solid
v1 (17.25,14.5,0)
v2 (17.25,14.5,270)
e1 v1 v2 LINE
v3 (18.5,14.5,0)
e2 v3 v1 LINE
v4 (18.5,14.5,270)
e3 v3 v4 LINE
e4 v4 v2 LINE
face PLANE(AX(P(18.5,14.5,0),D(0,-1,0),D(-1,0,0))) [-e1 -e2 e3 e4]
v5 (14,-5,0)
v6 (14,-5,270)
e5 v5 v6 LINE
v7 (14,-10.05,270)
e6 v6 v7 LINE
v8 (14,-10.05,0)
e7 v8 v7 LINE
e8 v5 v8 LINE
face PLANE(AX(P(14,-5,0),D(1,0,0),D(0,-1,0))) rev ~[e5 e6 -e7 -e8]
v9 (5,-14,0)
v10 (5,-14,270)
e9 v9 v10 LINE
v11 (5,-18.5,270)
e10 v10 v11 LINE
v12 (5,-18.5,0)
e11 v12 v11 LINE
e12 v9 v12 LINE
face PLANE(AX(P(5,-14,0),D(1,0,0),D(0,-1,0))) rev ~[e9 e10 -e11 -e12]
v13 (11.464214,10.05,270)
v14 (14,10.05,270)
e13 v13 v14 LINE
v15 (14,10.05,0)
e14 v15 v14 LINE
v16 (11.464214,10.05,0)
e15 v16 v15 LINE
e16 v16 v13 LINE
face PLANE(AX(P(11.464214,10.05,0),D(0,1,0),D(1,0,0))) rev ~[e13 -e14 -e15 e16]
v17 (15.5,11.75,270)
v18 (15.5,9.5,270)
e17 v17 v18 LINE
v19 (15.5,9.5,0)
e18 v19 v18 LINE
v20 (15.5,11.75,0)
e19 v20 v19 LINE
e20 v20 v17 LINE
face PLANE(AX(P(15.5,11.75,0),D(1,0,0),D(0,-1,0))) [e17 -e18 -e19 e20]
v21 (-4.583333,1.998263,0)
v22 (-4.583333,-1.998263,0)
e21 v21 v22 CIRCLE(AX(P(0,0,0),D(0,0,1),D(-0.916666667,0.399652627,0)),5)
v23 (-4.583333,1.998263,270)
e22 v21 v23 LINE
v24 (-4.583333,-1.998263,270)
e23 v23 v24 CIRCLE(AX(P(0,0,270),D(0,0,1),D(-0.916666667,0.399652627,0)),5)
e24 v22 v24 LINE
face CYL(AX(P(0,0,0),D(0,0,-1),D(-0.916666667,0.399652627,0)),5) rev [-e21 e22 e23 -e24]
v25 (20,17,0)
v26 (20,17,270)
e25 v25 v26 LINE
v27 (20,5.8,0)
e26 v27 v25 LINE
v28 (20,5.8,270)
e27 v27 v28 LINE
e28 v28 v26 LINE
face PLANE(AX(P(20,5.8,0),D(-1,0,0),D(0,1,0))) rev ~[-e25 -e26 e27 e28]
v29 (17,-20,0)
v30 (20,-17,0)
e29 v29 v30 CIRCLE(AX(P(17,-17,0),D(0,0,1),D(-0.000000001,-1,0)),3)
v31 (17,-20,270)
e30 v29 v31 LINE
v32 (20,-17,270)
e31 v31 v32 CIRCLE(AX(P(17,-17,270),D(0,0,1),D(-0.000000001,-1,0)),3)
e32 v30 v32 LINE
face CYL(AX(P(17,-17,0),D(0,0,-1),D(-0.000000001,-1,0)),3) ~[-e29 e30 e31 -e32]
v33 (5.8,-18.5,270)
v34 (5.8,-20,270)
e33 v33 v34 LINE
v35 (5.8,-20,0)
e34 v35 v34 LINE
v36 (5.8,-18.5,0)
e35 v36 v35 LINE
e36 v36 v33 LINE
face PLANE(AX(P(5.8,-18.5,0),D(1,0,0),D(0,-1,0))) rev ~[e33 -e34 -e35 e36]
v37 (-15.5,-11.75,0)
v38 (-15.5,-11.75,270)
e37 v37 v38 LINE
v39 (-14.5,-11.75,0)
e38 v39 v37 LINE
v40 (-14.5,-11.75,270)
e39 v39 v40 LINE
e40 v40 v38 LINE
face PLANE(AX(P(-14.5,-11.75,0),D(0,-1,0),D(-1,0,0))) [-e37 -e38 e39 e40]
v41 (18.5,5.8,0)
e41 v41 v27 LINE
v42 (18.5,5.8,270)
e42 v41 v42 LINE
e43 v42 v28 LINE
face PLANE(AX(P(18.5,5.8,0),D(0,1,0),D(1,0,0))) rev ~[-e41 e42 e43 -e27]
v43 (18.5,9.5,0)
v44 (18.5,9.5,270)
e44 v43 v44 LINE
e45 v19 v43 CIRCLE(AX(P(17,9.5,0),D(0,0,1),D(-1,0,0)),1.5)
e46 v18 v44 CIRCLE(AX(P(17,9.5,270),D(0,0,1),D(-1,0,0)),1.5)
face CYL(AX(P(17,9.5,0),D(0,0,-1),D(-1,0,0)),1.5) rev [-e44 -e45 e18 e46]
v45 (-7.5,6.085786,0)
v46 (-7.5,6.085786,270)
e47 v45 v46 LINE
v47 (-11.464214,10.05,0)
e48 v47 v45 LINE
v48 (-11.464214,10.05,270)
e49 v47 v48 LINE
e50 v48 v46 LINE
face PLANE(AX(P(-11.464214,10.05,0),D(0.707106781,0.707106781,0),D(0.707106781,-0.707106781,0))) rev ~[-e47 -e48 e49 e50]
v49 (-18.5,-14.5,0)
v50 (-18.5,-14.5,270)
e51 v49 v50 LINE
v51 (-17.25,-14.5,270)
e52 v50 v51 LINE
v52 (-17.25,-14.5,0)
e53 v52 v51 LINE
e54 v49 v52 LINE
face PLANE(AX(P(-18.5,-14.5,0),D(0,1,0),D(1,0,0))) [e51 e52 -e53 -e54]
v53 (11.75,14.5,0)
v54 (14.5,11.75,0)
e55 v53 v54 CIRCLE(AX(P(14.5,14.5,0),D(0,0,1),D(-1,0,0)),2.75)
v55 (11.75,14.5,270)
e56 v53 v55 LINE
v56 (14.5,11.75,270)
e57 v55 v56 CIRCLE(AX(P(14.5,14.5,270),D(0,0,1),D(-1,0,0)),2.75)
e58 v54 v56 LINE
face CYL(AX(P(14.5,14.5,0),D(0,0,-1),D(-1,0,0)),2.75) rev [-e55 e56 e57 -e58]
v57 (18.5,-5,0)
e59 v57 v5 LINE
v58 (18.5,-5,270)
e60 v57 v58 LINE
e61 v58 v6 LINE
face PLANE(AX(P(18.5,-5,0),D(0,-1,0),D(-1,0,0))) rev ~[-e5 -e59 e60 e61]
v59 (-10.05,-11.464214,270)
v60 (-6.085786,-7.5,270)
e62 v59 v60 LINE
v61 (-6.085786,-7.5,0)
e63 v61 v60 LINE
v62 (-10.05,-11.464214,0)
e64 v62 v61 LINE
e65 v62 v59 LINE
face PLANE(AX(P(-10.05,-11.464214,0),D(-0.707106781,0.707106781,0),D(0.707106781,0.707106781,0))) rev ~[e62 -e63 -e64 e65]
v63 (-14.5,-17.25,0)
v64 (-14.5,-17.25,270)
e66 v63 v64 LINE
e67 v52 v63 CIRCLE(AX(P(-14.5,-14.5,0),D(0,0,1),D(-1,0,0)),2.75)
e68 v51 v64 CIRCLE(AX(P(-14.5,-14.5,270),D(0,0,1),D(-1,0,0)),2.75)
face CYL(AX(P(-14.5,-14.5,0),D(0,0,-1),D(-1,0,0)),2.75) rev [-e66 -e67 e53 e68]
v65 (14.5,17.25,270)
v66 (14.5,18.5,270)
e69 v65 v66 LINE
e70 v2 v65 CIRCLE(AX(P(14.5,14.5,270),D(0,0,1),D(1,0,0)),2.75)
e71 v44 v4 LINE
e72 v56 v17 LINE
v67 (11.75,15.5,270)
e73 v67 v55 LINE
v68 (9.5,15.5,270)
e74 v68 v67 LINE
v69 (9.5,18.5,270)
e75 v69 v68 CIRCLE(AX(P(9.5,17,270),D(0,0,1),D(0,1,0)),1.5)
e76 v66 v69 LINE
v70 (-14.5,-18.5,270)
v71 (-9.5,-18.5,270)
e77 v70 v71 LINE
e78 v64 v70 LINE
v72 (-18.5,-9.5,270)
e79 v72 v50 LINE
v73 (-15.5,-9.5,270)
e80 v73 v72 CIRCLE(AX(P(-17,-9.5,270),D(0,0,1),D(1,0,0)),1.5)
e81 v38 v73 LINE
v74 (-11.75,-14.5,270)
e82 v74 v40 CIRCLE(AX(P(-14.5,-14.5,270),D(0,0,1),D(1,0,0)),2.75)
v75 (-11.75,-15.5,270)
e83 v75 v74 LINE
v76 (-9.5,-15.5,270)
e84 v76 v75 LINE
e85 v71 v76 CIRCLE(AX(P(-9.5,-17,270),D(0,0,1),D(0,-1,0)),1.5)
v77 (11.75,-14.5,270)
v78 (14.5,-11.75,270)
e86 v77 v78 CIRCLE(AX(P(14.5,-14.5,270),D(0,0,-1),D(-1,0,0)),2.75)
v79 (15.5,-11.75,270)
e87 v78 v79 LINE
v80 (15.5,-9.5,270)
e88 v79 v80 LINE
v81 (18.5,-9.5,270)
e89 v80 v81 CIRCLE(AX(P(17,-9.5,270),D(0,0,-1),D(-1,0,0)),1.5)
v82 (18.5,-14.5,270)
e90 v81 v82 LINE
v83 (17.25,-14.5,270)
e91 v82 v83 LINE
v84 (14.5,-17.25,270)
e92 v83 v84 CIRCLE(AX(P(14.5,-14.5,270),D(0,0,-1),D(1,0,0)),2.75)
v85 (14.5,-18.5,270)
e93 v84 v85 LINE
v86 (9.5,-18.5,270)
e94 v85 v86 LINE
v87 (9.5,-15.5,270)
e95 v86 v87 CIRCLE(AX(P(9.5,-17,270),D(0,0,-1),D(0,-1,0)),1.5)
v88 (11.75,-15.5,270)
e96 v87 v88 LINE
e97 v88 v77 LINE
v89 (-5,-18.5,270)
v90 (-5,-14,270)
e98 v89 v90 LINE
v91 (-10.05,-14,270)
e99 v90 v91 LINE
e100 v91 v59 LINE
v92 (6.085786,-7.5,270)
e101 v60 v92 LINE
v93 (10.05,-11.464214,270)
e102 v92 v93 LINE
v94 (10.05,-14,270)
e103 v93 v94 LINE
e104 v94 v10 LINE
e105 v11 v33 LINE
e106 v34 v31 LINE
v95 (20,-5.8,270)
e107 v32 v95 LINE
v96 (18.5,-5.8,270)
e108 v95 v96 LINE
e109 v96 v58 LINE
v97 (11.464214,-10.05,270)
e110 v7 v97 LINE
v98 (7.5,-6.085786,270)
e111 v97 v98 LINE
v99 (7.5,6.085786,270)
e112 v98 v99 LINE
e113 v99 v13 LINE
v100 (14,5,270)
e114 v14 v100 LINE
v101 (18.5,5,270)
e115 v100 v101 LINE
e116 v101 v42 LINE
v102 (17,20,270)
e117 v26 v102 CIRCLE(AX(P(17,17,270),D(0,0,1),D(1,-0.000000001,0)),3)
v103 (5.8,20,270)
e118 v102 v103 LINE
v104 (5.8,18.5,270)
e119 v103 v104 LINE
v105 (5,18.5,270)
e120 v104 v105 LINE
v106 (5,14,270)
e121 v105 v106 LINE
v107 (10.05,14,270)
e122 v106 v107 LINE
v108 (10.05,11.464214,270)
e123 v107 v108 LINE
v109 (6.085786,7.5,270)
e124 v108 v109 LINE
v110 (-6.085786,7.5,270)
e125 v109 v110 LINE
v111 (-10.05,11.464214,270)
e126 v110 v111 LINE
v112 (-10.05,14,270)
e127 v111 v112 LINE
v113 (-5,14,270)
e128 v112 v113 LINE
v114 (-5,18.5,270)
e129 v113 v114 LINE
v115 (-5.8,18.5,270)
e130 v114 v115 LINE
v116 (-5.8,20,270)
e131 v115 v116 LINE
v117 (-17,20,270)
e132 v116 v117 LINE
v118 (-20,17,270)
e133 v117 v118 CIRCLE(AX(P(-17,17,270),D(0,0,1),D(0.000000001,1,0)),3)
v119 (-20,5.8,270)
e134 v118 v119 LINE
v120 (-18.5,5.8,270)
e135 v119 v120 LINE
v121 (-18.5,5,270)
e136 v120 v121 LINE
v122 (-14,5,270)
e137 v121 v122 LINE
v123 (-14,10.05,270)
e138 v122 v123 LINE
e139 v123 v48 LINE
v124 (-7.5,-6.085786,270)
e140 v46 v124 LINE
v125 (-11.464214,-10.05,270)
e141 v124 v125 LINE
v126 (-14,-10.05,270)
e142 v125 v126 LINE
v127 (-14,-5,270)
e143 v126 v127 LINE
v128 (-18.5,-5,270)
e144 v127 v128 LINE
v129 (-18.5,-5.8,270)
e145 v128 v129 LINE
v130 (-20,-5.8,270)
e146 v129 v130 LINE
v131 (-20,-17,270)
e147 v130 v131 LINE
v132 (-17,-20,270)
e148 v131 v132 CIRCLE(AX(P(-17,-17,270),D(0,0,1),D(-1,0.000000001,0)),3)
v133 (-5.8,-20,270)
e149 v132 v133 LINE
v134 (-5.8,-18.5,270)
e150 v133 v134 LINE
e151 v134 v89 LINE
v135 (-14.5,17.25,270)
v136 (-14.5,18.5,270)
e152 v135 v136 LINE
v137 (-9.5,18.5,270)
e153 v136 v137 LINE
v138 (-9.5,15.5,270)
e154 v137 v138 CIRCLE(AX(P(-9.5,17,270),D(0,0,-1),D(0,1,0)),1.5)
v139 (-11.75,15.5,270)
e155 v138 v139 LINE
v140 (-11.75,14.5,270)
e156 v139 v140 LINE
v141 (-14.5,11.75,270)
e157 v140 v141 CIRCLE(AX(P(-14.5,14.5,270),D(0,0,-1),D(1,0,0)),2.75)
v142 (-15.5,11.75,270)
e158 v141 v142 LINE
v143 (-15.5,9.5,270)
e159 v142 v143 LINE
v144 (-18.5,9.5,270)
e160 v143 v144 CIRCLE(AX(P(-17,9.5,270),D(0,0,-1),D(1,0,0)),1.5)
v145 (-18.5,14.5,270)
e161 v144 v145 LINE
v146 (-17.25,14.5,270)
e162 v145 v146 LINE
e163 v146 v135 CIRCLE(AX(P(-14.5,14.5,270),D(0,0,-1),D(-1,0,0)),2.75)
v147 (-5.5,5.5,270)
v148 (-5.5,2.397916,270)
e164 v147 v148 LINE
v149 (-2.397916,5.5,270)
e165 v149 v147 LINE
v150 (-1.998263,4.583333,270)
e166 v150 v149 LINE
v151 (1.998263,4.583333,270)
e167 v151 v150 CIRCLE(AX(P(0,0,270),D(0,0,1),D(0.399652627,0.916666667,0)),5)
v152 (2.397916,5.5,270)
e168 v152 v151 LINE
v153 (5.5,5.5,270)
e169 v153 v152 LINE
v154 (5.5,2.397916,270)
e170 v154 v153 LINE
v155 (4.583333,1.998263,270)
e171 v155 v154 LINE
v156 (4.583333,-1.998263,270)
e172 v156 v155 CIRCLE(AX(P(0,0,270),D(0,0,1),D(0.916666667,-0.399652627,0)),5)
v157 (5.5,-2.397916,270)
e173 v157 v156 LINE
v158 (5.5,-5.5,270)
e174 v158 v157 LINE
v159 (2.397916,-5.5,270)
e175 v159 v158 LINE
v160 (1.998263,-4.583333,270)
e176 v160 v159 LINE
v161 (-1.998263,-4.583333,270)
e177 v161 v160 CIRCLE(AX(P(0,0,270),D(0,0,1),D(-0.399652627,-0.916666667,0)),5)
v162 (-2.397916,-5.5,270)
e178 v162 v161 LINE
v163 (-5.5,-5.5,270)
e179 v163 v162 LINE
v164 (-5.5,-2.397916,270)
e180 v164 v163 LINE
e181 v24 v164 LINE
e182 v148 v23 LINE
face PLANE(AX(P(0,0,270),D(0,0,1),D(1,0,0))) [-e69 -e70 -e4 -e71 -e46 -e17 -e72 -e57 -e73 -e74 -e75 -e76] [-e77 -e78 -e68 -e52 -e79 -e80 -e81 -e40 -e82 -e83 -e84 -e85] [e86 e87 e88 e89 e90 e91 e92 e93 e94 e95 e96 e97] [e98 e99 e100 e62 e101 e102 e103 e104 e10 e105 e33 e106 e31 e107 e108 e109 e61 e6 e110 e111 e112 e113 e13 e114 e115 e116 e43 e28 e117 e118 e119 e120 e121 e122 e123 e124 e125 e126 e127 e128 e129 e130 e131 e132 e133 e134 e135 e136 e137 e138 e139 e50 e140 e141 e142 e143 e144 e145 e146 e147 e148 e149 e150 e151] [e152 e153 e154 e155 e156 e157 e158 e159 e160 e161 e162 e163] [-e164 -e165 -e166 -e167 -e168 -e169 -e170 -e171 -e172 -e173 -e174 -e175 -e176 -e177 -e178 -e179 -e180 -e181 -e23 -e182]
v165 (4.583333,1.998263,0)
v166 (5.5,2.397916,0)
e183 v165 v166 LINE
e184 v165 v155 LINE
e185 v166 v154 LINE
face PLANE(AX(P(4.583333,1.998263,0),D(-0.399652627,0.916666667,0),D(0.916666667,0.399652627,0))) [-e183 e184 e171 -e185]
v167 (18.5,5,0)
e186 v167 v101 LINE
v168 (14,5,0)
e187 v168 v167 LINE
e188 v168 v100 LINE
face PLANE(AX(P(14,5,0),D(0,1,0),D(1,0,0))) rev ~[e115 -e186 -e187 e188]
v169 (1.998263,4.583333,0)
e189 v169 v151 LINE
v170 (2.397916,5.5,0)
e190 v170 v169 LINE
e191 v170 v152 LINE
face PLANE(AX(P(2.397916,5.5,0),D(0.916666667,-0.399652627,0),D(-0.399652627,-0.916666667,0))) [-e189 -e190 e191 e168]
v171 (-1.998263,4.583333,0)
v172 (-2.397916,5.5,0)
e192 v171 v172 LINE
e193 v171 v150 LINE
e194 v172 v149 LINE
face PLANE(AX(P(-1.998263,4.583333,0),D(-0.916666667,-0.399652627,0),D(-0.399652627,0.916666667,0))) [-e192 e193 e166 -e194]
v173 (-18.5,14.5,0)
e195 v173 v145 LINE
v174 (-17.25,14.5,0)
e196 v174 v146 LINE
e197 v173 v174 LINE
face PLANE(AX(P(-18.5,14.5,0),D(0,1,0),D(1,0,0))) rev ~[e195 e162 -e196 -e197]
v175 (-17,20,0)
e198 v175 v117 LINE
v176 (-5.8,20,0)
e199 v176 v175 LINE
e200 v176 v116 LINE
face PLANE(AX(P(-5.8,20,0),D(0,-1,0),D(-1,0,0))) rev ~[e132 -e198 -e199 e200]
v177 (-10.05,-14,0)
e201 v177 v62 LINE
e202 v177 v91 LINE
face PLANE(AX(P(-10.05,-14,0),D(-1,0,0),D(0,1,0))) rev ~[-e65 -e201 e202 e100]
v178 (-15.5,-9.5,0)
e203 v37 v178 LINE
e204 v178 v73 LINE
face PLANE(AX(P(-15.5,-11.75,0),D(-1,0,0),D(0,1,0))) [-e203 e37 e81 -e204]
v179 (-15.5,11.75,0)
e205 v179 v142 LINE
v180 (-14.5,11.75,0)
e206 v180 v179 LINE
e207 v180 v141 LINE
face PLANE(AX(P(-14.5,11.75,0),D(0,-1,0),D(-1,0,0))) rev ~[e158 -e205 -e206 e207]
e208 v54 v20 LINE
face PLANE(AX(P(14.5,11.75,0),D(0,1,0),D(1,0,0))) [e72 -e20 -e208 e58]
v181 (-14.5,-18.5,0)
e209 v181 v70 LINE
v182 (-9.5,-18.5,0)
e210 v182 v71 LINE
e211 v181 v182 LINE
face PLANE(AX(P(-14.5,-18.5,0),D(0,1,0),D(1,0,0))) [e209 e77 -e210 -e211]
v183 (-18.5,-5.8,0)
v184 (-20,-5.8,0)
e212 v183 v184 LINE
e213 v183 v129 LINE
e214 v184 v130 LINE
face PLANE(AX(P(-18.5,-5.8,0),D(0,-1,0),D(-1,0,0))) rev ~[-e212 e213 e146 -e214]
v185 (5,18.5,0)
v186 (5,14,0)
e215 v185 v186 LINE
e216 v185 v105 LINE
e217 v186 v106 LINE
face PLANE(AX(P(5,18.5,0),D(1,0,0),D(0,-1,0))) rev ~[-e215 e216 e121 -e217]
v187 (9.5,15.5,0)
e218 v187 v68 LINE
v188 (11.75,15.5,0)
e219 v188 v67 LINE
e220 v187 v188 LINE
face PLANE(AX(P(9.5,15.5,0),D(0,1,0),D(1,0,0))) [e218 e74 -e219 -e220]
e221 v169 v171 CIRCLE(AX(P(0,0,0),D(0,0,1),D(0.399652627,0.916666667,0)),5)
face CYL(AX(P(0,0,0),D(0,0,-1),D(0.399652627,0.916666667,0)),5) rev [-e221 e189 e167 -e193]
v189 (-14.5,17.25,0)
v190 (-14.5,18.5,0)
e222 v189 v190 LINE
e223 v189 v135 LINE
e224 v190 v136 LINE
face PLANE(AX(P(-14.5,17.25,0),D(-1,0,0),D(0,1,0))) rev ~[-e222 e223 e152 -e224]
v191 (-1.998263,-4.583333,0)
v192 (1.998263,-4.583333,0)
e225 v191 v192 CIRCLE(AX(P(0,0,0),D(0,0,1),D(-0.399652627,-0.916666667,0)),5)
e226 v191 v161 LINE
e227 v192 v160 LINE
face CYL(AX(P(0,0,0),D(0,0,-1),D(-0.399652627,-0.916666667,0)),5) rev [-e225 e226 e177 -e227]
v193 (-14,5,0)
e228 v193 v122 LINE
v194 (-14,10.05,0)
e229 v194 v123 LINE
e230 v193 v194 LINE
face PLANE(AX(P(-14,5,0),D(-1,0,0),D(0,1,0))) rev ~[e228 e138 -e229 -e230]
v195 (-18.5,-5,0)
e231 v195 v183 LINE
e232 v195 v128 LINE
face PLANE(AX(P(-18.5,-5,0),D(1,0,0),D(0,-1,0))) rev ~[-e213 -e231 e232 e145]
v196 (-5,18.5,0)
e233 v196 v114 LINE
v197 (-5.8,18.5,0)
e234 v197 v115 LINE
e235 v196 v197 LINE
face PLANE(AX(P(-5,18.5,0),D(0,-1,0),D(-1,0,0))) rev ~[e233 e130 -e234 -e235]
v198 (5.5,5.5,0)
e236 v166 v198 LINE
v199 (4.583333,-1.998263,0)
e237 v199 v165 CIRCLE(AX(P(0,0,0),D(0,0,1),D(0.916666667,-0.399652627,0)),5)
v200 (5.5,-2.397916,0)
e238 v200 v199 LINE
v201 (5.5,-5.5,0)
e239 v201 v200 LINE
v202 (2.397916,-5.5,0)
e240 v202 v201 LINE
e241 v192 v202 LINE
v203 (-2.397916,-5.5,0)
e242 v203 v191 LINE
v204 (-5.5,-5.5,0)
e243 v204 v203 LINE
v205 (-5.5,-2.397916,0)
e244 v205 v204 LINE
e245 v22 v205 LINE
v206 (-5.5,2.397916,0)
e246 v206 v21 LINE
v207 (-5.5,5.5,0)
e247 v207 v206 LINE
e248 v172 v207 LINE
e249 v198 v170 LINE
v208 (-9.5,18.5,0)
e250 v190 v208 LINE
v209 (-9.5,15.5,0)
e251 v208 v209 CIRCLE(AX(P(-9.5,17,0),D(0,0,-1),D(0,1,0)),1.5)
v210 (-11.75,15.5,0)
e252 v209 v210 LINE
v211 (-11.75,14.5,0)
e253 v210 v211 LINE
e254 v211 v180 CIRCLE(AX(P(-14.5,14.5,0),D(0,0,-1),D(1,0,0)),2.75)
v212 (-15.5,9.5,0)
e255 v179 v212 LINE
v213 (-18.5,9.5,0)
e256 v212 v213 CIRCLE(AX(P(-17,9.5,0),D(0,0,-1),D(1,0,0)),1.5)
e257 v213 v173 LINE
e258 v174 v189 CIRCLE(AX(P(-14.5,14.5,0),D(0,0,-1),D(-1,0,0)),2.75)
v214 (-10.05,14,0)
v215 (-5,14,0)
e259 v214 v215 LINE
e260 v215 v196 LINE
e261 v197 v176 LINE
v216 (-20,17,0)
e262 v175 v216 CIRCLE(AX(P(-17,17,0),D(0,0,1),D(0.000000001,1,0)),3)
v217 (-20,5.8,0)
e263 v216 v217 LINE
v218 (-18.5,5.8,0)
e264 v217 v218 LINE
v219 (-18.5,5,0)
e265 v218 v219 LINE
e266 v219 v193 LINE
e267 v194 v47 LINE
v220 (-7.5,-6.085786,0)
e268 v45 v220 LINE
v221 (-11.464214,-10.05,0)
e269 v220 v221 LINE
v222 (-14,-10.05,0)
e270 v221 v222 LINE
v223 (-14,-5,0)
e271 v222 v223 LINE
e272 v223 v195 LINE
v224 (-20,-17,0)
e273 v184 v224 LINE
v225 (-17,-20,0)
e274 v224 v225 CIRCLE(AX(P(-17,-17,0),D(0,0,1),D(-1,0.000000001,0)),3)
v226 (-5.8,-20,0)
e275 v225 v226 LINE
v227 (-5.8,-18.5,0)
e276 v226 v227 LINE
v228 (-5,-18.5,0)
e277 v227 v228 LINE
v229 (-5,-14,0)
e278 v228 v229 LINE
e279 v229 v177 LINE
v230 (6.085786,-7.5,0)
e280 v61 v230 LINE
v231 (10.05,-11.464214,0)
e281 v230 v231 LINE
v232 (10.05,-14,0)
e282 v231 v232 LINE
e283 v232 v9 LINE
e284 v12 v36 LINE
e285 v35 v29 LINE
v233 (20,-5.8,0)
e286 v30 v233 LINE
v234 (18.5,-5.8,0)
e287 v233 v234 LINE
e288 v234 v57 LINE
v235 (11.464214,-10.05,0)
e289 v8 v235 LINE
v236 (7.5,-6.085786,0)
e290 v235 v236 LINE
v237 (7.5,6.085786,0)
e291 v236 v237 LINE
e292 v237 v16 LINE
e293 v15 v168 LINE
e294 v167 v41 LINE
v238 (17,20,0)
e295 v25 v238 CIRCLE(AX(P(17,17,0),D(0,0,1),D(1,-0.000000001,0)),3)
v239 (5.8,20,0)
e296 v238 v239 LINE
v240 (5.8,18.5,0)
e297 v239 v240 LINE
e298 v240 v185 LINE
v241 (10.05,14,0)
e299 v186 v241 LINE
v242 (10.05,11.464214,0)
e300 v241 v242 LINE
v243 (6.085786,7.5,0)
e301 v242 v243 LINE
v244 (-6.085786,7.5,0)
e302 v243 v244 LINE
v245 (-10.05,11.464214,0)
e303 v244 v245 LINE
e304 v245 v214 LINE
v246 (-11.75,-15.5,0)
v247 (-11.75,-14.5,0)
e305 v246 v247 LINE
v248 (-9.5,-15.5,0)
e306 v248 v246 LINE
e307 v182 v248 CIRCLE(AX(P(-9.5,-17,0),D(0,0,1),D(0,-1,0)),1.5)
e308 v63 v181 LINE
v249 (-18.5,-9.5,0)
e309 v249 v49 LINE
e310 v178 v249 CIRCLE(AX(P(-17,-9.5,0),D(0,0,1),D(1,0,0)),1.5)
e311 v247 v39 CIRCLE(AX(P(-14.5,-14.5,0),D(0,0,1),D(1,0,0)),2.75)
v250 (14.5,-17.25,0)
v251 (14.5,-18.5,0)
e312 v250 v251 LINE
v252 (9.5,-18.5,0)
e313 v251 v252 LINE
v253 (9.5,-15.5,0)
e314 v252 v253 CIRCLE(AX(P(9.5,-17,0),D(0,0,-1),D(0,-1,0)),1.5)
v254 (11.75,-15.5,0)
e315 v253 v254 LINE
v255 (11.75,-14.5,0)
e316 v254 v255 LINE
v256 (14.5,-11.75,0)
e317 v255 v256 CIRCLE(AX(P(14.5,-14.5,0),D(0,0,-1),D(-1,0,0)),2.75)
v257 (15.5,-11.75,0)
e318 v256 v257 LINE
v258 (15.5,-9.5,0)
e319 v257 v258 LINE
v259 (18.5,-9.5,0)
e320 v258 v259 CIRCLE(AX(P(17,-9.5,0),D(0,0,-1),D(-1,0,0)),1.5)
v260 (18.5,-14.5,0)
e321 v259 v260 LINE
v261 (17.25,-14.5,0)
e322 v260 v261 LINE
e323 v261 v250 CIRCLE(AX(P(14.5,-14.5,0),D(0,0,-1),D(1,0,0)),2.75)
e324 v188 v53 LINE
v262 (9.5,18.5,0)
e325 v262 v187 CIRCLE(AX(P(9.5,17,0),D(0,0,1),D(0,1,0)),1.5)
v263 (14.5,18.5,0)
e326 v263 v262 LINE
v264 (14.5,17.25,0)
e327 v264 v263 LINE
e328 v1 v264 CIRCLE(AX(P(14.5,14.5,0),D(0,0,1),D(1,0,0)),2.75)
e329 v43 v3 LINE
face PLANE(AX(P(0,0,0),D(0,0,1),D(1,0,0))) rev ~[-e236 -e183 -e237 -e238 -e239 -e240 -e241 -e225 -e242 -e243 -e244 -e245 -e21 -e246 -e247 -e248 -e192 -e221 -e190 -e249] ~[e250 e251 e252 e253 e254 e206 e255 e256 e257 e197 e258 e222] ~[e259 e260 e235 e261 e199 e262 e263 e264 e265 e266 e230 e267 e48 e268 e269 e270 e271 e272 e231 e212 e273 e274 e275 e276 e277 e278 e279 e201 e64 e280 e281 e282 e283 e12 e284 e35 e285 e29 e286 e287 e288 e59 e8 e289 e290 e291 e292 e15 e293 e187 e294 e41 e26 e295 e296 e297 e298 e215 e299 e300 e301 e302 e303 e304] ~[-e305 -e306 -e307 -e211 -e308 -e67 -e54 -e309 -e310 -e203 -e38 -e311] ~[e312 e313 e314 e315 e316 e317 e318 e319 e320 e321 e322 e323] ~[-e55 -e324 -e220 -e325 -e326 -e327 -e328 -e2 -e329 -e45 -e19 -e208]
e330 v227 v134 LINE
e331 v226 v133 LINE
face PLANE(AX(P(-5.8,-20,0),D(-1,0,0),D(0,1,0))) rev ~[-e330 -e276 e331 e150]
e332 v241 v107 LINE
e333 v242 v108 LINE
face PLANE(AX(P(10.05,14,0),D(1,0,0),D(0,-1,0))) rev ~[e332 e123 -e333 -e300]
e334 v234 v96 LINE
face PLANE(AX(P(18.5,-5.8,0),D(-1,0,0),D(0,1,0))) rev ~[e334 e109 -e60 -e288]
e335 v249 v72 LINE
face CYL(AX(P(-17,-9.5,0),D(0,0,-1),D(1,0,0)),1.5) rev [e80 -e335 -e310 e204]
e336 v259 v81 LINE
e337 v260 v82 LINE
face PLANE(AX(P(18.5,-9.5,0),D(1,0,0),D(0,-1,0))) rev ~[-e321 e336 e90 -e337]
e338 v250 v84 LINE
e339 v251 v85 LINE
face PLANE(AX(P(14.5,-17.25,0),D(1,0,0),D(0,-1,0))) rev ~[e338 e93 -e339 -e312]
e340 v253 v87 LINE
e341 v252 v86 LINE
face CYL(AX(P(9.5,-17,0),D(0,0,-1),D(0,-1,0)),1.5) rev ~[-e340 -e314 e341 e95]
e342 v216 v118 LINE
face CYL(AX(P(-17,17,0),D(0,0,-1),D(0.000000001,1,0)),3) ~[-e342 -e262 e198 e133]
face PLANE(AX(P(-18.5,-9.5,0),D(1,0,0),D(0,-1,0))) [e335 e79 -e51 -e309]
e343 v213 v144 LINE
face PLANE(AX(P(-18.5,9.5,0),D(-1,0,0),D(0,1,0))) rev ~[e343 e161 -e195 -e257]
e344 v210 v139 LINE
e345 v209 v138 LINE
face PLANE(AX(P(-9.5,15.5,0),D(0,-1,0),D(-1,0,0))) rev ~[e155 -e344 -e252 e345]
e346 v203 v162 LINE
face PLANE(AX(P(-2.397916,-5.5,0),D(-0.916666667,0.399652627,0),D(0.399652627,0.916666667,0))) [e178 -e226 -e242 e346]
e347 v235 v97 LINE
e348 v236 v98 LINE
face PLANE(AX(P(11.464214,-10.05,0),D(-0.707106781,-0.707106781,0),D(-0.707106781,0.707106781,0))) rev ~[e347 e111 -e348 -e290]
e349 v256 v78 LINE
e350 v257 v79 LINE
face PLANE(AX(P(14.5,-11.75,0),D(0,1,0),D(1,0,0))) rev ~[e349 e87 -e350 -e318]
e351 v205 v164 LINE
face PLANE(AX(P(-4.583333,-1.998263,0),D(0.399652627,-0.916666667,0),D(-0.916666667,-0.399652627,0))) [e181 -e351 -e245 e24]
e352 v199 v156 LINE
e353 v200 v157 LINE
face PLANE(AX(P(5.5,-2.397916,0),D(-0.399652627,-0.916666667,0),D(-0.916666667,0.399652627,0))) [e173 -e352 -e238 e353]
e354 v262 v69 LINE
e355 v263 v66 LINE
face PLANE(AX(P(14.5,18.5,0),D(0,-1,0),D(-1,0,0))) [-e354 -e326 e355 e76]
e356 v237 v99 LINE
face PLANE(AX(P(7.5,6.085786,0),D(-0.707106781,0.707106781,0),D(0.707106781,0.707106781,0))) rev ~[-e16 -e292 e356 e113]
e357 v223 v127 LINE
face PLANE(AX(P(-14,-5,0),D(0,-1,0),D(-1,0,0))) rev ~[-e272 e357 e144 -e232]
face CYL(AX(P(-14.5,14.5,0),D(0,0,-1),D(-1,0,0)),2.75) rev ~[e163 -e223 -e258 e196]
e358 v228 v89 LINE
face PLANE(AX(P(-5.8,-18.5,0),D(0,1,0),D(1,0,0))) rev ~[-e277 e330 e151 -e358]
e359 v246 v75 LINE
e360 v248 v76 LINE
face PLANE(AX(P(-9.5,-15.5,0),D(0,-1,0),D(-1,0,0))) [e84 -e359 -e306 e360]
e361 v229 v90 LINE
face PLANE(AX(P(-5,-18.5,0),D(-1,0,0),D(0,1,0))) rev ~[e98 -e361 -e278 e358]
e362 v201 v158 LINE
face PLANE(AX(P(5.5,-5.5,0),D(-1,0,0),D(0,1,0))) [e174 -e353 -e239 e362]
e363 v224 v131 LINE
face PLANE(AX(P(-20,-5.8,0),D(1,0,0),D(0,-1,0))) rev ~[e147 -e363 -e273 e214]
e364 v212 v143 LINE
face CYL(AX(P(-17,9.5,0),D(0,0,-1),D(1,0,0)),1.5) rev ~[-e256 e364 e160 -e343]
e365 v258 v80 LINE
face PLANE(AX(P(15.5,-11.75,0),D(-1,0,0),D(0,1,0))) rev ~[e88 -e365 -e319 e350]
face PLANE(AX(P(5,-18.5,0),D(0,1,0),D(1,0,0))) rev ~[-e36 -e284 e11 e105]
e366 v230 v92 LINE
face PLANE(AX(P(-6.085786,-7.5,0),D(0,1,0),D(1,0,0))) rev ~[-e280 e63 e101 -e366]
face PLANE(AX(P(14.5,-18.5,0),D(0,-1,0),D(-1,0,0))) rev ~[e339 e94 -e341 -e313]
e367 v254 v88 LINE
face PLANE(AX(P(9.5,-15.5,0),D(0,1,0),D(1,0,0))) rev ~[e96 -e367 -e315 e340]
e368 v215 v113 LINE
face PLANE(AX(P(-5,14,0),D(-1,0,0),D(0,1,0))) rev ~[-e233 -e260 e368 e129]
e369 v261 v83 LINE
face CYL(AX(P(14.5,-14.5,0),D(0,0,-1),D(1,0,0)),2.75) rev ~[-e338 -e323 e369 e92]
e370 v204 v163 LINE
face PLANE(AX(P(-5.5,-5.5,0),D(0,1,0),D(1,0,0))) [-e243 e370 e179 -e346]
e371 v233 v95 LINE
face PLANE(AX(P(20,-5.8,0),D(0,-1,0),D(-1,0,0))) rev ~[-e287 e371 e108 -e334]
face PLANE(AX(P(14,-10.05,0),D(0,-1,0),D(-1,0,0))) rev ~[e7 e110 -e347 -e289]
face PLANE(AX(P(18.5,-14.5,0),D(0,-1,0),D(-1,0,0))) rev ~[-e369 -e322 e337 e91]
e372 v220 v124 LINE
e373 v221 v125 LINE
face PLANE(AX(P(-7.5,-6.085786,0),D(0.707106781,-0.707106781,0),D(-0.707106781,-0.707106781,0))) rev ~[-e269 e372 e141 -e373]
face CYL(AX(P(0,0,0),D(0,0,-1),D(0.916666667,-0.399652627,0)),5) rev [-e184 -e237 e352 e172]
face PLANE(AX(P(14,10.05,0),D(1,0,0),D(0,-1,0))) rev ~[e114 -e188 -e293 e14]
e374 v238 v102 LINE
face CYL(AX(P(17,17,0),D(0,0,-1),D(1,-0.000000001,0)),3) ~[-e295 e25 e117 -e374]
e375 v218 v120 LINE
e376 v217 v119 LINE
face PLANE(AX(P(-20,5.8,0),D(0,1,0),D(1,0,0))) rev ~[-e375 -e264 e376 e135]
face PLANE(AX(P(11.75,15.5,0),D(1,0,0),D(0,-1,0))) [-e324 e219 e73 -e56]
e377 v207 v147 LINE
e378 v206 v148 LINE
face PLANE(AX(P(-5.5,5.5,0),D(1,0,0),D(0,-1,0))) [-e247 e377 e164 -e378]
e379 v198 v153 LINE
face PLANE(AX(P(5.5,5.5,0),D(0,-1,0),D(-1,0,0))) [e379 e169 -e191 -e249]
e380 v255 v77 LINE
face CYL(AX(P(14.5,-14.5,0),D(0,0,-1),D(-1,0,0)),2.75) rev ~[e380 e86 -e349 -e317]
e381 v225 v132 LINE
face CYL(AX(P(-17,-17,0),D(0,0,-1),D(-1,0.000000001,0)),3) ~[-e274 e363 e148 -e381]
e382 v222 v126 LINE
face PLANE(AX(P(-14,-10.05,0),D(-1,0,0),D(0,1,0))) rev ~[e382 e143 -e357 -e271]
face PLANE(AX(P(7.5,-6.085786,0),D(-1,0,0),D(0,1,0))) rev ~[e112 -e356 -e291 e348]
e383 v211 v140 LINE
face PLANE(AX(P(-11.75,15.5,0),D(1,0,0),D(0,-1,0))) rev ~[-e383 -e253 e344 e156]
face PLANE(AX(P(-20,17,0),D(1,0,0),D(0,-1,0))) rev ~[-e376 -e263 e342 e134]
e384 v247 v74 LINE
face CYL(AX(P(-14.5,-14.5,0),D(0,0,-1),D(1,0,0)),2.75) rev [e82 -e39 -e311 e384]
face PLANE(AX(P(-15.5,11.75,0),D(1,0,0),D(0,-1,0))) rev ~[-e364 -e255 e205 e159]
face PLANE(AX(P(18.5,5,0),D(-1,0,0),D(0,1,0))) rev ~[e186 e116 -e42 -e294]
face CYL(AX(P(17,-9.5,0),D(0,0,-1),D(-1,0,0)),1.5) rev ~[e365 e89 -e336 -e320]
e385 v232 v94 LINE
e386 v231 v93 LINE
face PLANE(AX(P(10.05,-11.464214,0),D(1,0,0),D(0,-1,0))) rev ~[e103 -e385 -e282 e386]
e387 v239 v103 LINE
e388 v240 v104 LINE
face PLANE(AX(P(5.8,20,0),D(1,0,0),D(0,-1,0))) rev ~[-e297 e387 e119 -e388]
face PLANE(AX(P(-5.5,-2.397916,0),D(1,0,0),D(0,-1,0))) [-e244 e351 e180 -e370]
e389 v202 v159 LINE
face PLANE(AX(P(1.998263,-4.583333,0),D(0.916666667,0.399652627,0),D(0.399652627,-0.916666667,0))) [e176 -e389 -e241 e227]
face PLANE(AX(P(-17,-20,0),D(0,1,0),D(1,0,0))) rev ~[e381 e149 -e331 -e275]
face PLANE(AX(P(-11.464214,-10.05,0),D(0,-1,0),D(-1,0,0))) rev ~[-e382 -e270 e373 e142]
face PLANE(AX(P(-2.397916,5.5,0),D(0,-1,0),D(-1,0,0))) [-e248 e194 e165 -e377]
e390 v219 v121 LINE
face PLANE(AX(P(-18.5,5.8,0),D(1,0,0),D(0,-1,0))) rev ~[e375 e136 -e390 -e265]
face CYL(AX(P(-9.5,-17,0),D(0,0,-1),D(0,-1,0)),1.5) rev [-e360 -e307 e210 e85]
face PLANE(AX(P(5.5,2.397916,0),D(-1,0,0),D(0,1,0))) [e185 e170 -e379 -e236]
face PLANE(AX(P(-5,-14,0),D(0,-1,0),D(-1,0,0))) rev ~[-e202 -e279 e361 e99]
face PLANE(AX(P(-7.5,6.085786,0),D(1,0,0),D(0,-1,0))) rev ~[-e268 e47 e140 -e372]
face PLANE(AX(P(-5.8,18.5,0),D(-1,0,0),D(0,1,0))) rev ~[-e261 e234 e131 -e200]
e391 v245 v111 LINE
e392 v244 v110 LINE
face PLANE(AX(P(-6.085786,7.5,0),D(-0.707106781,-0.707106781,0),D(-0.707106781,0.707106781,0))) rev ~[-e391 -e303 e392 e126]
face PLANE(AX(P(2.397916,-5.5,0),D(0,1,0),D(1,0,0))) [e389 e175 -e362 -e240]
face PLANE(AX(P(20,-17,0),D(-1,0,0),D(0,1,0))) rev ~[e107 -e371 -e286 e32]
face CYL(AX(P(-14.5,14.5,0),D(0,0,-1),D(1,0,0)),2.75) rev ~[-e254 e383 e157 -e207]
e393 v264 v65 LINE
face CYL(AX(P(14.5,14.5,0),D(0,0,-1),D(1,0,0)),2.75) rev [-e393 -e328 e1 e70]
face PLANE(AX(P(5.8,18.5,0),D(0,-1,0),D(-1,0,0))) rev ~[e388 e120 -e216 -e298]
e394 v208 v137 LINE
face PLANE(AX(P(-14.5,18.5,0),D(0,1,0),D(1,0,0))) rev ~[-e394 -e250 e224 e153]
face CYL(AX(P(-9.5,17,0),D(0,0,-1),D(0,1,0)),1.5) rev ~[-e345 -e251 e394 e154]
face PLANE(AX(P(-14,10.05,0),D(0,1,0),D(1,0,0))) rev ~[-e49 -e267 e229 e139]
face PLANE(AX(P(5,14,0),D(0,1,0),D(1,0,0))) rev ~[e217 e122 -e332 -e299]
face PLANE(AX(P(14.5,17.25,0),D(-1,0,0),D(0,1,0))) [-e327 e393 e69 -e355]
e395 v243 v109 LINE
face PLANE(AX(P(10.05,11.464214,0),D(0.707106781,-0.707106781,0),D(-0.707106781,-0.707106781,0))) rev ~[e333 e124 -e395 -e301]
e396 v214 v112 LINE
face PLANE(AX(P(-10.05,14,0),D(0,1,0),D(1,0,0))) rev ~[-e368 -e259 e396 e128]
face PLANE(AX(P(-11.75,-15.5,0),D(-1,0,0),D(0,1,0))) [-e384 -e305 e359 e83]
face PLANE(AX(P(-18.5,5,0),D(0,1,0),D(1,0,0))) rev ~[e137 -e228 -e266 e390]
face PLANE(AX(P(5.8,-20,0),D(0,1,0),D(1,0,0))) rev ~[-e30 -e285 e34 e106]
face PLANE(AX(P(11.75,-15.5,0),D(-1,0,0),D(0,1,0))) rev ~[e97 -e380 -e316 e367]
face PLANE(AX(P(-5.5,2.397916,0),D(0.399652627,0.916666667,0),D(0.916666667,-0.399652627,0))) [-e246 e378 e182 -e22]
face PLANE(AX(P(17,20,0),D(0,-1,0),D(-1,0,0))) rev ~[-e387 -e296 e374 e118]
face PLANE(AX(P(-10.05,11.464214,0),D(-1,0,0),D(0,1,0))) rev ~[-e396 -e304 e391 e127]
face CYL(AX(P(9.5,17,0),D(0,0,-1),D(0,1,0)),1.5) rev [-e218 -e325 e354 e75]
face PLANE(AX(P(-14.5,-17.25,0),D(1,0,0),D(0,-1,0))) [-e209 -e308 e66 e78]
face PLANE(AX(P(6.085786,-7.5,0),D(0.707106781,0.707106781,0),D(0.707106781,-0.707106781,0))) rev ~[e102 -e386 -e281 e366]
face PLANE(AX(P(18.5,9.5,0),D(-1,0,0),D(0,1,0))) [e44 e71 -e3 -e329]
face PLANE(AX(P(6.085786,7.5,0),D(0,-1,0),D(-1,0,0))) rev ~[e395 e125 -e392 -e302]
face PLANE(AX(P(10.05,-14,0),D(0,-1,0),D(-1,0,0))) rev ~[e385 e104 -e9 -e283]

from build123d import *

# Parameters (mm, degrees)
EXTRUDE1_DEPTH = 270


with BuildPart() as part:
    # Sketch1 → Extrude1 (new body)
    with BuildSketch(Plane.XY):
        with BuildLine():
            Line((5.8, -20), (17, -20))
            ThreePointArc((17, -20), (19.121320344, -19.121320344), (20, -17))
            Line((20, -17), (20, -5.8))
            Line((20, -5.8), (18.5, -5.8))
            Line((18.5, -5.8), (18.5, -5))
            Line((18.5, -5), (14, -5))
            Line((14, -5), (14, -10.05))
            Line((14, -10.05), (11.464213562, -10.05))
            Line((11.464213562, -10.05), (7.5, -6.085786438))
            Line((7.5, -6.085786438), (7.5, 6.085786438))
            Line((7.5, 6.085786438), (11.464213562, 10.05))
            Line((11.464213562, 10.05), (14, 10.05))
            Line((14, 10.05), (14, 5))
            Line((14, 5), (18.5, 5))
            Line((18.5, 5), (18.5, 5.8))
            Line((18.5, 5.8), (20, 5.8))
            Line((20, 5.8), (20, 17))
            ThreePointArc((20, 17), (19.121320344, 19.121320344), (17, 20))
            Line((17, 20), (5.8, 20))
            Line((5.8, 20), (5.8, 18.5))
            Line((5.8, 18.5), (5, 18.5))
            Line((5, 18.5), (5, 14))
            Line((5, 14), (10.05, 14))
            Line((10.05, 14), (10.05, 11.464213562))
            Line((10.05, 11.464213562), (6.085786438, 7.5))
            Line((6.085786438, 7.5), (-6.085786438, 7.5))
            Line((-6.085786438, 7.5), (-10.05, 11.464213562))
            Line((-10.05, 11.464213562), (-10.05, 14))
            Line((-10.05, 14), (-5, 14))
            Line((-5, 14), (-5, 18.5))
            Line((-5, 18.5), (-5.8, 18.5))
            Line((-5.8, 18.5), (-5.8, 20))
            Line((-5.8, 20), (-17, 20))
            ThreePointArc((-17, 20), (-19.121320344, 19.121320344), (-20, 17))
            Line((-20, 17), (-20, 5.8))
            Line((-20, 5.8), (-18.5, 5.8))
            Line((-18.5, 5.8), (-18.5, 5))
            Line((-18.5, 5), (-14, 5))
            Line((-14, 5), (-14, 10.05))
            Line((-14, 10.05), (-11.464213562, 10.05))
            Line((-11.464213562, 10.05), (-7.5, 6.085786438))
            Line((-7.5, 6.085786438), (-7.5, -6.085786438))
            Line((-7.5, -6.085786438), (-11.464213562, -10.05))
            Line((-11.464213562, -10.05), (-14, -10.05))
            Line((-14, -10.05), (-14, -5))
            Line((-14, -5), (-18.5, -5))
            Line((-18.5, -5), (-18.5, -5.8))
            Line((-18.5, -5.8), (-20, -5.8))
            Line((-20, -5.8), (-20, -17))
            ThreePointArc((-20, -17), (-19.121320344, -19.121320344), (-17, -20))
            Line((-17, -20), (-5.8, -20))
            Line((-5.8, -20), (-5.8, -18.5))
            Line((-5.8, -18.5), (-5, -18.5))
            Line((-5, -18.5), (-5, -14))
            Line((-5, -14), (-10.05, -14))
            Line((-10.05, -14), (-10.05, -11.464213562))
            Line((-10.05, -11.464213562), (-6.085786438, -7.5))
            Line((-6.085786438, -7.5), (6.085786438, -7.5))
            Line((6.085786438, -7.5), (10.05, -11.464213562))
            Line((10.05, -11.464213562), (10.05, -14))
            Line((10.05, -14), (5, -14))
            Line((5, -14), (5, -18.5))
            Line((5, -18.5), (5.8, -18.5))
            Line((5.8, -18.5), (5.8, -20))
        make_face()
        with BuildLine():
            Line((14.5, -18.5), (9.5, -18.5))
            ThreePointArc((9.5, -18.5), (8, -17), (9.5, -15.5))
            Line((9.5, -15.5), (11.75, -15.5))
            Line((11.75, -15.5), (11.75, -14.5))
            ThreePointArc((11.75, -14.5), (12.555456352, -12.555456352), (14.5, -11.75))
            Line((14.5, -11.75), (15.5, -11.75))
            Line((15.5, -11.75), (15.5, -9.5))
            ThreePointArc((15.5, -9.5), (17, -8), (18.5, -9.5))
            Line((18.5, -9.5), (18.5, -14.5))
            Line((18.5, -14.5), (17.25, -14.5))
            ThreePointArc((17.25, -14.5), (16.444543648, -16.444543648), (14.5, -17.25))
            Line((14.5, -17.25), (14.5, -18.5))
        make_face(mode=Mode.SUBTRACT)
        with BuildLine():
            Line((18.5, 14.5), (17.25, 14.5))
            ThreePointArc((17.25, 14.5), (16.444543648, 16.444543648), (14.5, 17.25))
            Line((14.5, 17.25), (14.5, 18.5))
            Line((14.5, 18.5), (9.5, 18.5))
            ThreePointArc((9.5, 18.5), (8, 17), (9.5, 15.5))
            Line((9.5, 15.5), (11.75, 15.5))
            Line((11.75, 15.5), (11.75, 14.5))
            ThreePointArc((11.75, 14.5), (12.555456352, 12.555456352), (14.5, 11.75))
            Line((14.5, 11.75), (15.5, 11.75))
            Line((15.5, 11.75), (15.5, 9.5))
            ThreePointArc((15.5, 9.5), (17, 8), (18.5, 9.5))
            Line((18.5, 9.5), (18.5, 14.5))
        make_face(mode=Mode.SUBTRACT)
        with BuildLine():
            Line((5.5, 5.5), (2.397915762, 5.5))
            Line((2.397915762, 5.5), (1.998263135, 4.583333333))
            ThreePointArc((1.998263135, 4.583333333), (0, 5), (-1.998263135, 4.583333333))
            Line((-1.998263135, 4.583333333), (-2.397915762, 5.5))
            Line((-2.397915762, 5.5), (-5.5, 5.5))
            Line((-5.5, 5.5), (-5.5, 2.397915762))
            Line((-5.5, 2.397915762), (-4.583333333, 1.998263135))
            ThreePointArc((-4.583333333, 1.998263135), (-5, 0), (-4.583333333, -1.998263135))
            Line((-4.583333333, -1.998263135), (-5.5, -2.397915762))
            Line((-5.5, -2.397915762), (-5.5, -5.5))
            Line((-5.5, -5.5), (-2.397915762, -5.5))
            Line((-2.397915762, -5.5), (-1.998263135, -4.583333333))
            ThreePointArc((-1.998263135, -4.583333333), (0, -5), (1.998263135, -4.583333333))
            Line((1.998263135, -4.583333333), (2.397915762, -5.5))
            Line((2.397915762, -5.5), (5.5, -5.5))
            Line((5.5, -5.5), (5.5, -2.397915762))
            Line((5.5, -2.397915762), (4.583333333, -1.998263135))
            ThreePointArc((4.583333333, -1.998263135), (5, 0), (4.583333333, 1.998263135))
            Line((4.583333333, 1.998263135), (5.5, 2.397915762))
            Line((5.5, 2.397915762), (5.5, 5.5))
        make_face(mode=Mode.SUBTRACT)
        with BuildLine():
            Line((-18.5, -14.5), (-17.25, -14.5))
            ThreePointArc((-17.25, -14.5), (-16.444543648, -16.444543648), (-14.5, -17.25))
            Line((-14.5, -17.25), (-14.5, -18.5))
            Line((-14.5, -18.5), (-9.5, -18.5))
            ThreePointArc((-9.5, -18.5), (-8, -17), (-9.5, -15.5))
            Line((-9.5, -15.5), (-11.75, -15.5))
            Line((-11.75, -15.5), (-11.75, -14.5))
            ThreePointArc((-11.75, -14.5), (-12.555456352, -12.555456352), (-14.5, -11.75))
            Line((-14.5, -11.75), (-15.5, -11.75))
            Line((-15.5, -11.75), (-15.5, -9.5))
            ThreePointArc((-15.5, -9.5), (-17, -8), (-18.5, -9.5))
            Line((-18.5, -9.5), (-18.5, -14.5))
        make_face(mode=Mode.SUBTRACT)
        with BuildLine():
            Line((-14.5, 18.5), (-9.5, 18.5))
            ThreePointArc((-9.5, 18.5), (-8, 17), (-9.5, 15.5))
            Line((-9.5, 15.5), (-11.75, 15.5))
            Line((-11.75, 15.5), (-11.75, 14.5))
            ThreePointArc((-11.75, 14.5), (-12.555456352, 12.555456352), (-14.5, 11.75))
            Line((-14.5, 11.75), (-15.5, 11.75))
            Line((-15.5, 11.75), (-15.5, 9.5))
            ThreePointArc((-15.5, 9.5), (-17, 8), (-18.5, 9.5))
            Line((-18.5, 9.5), (-18.5, 14.5))
            Line((-18.5, 14.5), (-17.25, 14.5))
            ThreePointArc((-17.25, 14.5), (-16.444543648, 16.444543648), (-14.5, 17.25))
            Line((-14.5, 17.25), (-14.5, 18.5))
        make_face(mode=Mode.SUBTRACT)
    extrude(amount=EXTRUDE1_DEPTH)


solid = part.part
